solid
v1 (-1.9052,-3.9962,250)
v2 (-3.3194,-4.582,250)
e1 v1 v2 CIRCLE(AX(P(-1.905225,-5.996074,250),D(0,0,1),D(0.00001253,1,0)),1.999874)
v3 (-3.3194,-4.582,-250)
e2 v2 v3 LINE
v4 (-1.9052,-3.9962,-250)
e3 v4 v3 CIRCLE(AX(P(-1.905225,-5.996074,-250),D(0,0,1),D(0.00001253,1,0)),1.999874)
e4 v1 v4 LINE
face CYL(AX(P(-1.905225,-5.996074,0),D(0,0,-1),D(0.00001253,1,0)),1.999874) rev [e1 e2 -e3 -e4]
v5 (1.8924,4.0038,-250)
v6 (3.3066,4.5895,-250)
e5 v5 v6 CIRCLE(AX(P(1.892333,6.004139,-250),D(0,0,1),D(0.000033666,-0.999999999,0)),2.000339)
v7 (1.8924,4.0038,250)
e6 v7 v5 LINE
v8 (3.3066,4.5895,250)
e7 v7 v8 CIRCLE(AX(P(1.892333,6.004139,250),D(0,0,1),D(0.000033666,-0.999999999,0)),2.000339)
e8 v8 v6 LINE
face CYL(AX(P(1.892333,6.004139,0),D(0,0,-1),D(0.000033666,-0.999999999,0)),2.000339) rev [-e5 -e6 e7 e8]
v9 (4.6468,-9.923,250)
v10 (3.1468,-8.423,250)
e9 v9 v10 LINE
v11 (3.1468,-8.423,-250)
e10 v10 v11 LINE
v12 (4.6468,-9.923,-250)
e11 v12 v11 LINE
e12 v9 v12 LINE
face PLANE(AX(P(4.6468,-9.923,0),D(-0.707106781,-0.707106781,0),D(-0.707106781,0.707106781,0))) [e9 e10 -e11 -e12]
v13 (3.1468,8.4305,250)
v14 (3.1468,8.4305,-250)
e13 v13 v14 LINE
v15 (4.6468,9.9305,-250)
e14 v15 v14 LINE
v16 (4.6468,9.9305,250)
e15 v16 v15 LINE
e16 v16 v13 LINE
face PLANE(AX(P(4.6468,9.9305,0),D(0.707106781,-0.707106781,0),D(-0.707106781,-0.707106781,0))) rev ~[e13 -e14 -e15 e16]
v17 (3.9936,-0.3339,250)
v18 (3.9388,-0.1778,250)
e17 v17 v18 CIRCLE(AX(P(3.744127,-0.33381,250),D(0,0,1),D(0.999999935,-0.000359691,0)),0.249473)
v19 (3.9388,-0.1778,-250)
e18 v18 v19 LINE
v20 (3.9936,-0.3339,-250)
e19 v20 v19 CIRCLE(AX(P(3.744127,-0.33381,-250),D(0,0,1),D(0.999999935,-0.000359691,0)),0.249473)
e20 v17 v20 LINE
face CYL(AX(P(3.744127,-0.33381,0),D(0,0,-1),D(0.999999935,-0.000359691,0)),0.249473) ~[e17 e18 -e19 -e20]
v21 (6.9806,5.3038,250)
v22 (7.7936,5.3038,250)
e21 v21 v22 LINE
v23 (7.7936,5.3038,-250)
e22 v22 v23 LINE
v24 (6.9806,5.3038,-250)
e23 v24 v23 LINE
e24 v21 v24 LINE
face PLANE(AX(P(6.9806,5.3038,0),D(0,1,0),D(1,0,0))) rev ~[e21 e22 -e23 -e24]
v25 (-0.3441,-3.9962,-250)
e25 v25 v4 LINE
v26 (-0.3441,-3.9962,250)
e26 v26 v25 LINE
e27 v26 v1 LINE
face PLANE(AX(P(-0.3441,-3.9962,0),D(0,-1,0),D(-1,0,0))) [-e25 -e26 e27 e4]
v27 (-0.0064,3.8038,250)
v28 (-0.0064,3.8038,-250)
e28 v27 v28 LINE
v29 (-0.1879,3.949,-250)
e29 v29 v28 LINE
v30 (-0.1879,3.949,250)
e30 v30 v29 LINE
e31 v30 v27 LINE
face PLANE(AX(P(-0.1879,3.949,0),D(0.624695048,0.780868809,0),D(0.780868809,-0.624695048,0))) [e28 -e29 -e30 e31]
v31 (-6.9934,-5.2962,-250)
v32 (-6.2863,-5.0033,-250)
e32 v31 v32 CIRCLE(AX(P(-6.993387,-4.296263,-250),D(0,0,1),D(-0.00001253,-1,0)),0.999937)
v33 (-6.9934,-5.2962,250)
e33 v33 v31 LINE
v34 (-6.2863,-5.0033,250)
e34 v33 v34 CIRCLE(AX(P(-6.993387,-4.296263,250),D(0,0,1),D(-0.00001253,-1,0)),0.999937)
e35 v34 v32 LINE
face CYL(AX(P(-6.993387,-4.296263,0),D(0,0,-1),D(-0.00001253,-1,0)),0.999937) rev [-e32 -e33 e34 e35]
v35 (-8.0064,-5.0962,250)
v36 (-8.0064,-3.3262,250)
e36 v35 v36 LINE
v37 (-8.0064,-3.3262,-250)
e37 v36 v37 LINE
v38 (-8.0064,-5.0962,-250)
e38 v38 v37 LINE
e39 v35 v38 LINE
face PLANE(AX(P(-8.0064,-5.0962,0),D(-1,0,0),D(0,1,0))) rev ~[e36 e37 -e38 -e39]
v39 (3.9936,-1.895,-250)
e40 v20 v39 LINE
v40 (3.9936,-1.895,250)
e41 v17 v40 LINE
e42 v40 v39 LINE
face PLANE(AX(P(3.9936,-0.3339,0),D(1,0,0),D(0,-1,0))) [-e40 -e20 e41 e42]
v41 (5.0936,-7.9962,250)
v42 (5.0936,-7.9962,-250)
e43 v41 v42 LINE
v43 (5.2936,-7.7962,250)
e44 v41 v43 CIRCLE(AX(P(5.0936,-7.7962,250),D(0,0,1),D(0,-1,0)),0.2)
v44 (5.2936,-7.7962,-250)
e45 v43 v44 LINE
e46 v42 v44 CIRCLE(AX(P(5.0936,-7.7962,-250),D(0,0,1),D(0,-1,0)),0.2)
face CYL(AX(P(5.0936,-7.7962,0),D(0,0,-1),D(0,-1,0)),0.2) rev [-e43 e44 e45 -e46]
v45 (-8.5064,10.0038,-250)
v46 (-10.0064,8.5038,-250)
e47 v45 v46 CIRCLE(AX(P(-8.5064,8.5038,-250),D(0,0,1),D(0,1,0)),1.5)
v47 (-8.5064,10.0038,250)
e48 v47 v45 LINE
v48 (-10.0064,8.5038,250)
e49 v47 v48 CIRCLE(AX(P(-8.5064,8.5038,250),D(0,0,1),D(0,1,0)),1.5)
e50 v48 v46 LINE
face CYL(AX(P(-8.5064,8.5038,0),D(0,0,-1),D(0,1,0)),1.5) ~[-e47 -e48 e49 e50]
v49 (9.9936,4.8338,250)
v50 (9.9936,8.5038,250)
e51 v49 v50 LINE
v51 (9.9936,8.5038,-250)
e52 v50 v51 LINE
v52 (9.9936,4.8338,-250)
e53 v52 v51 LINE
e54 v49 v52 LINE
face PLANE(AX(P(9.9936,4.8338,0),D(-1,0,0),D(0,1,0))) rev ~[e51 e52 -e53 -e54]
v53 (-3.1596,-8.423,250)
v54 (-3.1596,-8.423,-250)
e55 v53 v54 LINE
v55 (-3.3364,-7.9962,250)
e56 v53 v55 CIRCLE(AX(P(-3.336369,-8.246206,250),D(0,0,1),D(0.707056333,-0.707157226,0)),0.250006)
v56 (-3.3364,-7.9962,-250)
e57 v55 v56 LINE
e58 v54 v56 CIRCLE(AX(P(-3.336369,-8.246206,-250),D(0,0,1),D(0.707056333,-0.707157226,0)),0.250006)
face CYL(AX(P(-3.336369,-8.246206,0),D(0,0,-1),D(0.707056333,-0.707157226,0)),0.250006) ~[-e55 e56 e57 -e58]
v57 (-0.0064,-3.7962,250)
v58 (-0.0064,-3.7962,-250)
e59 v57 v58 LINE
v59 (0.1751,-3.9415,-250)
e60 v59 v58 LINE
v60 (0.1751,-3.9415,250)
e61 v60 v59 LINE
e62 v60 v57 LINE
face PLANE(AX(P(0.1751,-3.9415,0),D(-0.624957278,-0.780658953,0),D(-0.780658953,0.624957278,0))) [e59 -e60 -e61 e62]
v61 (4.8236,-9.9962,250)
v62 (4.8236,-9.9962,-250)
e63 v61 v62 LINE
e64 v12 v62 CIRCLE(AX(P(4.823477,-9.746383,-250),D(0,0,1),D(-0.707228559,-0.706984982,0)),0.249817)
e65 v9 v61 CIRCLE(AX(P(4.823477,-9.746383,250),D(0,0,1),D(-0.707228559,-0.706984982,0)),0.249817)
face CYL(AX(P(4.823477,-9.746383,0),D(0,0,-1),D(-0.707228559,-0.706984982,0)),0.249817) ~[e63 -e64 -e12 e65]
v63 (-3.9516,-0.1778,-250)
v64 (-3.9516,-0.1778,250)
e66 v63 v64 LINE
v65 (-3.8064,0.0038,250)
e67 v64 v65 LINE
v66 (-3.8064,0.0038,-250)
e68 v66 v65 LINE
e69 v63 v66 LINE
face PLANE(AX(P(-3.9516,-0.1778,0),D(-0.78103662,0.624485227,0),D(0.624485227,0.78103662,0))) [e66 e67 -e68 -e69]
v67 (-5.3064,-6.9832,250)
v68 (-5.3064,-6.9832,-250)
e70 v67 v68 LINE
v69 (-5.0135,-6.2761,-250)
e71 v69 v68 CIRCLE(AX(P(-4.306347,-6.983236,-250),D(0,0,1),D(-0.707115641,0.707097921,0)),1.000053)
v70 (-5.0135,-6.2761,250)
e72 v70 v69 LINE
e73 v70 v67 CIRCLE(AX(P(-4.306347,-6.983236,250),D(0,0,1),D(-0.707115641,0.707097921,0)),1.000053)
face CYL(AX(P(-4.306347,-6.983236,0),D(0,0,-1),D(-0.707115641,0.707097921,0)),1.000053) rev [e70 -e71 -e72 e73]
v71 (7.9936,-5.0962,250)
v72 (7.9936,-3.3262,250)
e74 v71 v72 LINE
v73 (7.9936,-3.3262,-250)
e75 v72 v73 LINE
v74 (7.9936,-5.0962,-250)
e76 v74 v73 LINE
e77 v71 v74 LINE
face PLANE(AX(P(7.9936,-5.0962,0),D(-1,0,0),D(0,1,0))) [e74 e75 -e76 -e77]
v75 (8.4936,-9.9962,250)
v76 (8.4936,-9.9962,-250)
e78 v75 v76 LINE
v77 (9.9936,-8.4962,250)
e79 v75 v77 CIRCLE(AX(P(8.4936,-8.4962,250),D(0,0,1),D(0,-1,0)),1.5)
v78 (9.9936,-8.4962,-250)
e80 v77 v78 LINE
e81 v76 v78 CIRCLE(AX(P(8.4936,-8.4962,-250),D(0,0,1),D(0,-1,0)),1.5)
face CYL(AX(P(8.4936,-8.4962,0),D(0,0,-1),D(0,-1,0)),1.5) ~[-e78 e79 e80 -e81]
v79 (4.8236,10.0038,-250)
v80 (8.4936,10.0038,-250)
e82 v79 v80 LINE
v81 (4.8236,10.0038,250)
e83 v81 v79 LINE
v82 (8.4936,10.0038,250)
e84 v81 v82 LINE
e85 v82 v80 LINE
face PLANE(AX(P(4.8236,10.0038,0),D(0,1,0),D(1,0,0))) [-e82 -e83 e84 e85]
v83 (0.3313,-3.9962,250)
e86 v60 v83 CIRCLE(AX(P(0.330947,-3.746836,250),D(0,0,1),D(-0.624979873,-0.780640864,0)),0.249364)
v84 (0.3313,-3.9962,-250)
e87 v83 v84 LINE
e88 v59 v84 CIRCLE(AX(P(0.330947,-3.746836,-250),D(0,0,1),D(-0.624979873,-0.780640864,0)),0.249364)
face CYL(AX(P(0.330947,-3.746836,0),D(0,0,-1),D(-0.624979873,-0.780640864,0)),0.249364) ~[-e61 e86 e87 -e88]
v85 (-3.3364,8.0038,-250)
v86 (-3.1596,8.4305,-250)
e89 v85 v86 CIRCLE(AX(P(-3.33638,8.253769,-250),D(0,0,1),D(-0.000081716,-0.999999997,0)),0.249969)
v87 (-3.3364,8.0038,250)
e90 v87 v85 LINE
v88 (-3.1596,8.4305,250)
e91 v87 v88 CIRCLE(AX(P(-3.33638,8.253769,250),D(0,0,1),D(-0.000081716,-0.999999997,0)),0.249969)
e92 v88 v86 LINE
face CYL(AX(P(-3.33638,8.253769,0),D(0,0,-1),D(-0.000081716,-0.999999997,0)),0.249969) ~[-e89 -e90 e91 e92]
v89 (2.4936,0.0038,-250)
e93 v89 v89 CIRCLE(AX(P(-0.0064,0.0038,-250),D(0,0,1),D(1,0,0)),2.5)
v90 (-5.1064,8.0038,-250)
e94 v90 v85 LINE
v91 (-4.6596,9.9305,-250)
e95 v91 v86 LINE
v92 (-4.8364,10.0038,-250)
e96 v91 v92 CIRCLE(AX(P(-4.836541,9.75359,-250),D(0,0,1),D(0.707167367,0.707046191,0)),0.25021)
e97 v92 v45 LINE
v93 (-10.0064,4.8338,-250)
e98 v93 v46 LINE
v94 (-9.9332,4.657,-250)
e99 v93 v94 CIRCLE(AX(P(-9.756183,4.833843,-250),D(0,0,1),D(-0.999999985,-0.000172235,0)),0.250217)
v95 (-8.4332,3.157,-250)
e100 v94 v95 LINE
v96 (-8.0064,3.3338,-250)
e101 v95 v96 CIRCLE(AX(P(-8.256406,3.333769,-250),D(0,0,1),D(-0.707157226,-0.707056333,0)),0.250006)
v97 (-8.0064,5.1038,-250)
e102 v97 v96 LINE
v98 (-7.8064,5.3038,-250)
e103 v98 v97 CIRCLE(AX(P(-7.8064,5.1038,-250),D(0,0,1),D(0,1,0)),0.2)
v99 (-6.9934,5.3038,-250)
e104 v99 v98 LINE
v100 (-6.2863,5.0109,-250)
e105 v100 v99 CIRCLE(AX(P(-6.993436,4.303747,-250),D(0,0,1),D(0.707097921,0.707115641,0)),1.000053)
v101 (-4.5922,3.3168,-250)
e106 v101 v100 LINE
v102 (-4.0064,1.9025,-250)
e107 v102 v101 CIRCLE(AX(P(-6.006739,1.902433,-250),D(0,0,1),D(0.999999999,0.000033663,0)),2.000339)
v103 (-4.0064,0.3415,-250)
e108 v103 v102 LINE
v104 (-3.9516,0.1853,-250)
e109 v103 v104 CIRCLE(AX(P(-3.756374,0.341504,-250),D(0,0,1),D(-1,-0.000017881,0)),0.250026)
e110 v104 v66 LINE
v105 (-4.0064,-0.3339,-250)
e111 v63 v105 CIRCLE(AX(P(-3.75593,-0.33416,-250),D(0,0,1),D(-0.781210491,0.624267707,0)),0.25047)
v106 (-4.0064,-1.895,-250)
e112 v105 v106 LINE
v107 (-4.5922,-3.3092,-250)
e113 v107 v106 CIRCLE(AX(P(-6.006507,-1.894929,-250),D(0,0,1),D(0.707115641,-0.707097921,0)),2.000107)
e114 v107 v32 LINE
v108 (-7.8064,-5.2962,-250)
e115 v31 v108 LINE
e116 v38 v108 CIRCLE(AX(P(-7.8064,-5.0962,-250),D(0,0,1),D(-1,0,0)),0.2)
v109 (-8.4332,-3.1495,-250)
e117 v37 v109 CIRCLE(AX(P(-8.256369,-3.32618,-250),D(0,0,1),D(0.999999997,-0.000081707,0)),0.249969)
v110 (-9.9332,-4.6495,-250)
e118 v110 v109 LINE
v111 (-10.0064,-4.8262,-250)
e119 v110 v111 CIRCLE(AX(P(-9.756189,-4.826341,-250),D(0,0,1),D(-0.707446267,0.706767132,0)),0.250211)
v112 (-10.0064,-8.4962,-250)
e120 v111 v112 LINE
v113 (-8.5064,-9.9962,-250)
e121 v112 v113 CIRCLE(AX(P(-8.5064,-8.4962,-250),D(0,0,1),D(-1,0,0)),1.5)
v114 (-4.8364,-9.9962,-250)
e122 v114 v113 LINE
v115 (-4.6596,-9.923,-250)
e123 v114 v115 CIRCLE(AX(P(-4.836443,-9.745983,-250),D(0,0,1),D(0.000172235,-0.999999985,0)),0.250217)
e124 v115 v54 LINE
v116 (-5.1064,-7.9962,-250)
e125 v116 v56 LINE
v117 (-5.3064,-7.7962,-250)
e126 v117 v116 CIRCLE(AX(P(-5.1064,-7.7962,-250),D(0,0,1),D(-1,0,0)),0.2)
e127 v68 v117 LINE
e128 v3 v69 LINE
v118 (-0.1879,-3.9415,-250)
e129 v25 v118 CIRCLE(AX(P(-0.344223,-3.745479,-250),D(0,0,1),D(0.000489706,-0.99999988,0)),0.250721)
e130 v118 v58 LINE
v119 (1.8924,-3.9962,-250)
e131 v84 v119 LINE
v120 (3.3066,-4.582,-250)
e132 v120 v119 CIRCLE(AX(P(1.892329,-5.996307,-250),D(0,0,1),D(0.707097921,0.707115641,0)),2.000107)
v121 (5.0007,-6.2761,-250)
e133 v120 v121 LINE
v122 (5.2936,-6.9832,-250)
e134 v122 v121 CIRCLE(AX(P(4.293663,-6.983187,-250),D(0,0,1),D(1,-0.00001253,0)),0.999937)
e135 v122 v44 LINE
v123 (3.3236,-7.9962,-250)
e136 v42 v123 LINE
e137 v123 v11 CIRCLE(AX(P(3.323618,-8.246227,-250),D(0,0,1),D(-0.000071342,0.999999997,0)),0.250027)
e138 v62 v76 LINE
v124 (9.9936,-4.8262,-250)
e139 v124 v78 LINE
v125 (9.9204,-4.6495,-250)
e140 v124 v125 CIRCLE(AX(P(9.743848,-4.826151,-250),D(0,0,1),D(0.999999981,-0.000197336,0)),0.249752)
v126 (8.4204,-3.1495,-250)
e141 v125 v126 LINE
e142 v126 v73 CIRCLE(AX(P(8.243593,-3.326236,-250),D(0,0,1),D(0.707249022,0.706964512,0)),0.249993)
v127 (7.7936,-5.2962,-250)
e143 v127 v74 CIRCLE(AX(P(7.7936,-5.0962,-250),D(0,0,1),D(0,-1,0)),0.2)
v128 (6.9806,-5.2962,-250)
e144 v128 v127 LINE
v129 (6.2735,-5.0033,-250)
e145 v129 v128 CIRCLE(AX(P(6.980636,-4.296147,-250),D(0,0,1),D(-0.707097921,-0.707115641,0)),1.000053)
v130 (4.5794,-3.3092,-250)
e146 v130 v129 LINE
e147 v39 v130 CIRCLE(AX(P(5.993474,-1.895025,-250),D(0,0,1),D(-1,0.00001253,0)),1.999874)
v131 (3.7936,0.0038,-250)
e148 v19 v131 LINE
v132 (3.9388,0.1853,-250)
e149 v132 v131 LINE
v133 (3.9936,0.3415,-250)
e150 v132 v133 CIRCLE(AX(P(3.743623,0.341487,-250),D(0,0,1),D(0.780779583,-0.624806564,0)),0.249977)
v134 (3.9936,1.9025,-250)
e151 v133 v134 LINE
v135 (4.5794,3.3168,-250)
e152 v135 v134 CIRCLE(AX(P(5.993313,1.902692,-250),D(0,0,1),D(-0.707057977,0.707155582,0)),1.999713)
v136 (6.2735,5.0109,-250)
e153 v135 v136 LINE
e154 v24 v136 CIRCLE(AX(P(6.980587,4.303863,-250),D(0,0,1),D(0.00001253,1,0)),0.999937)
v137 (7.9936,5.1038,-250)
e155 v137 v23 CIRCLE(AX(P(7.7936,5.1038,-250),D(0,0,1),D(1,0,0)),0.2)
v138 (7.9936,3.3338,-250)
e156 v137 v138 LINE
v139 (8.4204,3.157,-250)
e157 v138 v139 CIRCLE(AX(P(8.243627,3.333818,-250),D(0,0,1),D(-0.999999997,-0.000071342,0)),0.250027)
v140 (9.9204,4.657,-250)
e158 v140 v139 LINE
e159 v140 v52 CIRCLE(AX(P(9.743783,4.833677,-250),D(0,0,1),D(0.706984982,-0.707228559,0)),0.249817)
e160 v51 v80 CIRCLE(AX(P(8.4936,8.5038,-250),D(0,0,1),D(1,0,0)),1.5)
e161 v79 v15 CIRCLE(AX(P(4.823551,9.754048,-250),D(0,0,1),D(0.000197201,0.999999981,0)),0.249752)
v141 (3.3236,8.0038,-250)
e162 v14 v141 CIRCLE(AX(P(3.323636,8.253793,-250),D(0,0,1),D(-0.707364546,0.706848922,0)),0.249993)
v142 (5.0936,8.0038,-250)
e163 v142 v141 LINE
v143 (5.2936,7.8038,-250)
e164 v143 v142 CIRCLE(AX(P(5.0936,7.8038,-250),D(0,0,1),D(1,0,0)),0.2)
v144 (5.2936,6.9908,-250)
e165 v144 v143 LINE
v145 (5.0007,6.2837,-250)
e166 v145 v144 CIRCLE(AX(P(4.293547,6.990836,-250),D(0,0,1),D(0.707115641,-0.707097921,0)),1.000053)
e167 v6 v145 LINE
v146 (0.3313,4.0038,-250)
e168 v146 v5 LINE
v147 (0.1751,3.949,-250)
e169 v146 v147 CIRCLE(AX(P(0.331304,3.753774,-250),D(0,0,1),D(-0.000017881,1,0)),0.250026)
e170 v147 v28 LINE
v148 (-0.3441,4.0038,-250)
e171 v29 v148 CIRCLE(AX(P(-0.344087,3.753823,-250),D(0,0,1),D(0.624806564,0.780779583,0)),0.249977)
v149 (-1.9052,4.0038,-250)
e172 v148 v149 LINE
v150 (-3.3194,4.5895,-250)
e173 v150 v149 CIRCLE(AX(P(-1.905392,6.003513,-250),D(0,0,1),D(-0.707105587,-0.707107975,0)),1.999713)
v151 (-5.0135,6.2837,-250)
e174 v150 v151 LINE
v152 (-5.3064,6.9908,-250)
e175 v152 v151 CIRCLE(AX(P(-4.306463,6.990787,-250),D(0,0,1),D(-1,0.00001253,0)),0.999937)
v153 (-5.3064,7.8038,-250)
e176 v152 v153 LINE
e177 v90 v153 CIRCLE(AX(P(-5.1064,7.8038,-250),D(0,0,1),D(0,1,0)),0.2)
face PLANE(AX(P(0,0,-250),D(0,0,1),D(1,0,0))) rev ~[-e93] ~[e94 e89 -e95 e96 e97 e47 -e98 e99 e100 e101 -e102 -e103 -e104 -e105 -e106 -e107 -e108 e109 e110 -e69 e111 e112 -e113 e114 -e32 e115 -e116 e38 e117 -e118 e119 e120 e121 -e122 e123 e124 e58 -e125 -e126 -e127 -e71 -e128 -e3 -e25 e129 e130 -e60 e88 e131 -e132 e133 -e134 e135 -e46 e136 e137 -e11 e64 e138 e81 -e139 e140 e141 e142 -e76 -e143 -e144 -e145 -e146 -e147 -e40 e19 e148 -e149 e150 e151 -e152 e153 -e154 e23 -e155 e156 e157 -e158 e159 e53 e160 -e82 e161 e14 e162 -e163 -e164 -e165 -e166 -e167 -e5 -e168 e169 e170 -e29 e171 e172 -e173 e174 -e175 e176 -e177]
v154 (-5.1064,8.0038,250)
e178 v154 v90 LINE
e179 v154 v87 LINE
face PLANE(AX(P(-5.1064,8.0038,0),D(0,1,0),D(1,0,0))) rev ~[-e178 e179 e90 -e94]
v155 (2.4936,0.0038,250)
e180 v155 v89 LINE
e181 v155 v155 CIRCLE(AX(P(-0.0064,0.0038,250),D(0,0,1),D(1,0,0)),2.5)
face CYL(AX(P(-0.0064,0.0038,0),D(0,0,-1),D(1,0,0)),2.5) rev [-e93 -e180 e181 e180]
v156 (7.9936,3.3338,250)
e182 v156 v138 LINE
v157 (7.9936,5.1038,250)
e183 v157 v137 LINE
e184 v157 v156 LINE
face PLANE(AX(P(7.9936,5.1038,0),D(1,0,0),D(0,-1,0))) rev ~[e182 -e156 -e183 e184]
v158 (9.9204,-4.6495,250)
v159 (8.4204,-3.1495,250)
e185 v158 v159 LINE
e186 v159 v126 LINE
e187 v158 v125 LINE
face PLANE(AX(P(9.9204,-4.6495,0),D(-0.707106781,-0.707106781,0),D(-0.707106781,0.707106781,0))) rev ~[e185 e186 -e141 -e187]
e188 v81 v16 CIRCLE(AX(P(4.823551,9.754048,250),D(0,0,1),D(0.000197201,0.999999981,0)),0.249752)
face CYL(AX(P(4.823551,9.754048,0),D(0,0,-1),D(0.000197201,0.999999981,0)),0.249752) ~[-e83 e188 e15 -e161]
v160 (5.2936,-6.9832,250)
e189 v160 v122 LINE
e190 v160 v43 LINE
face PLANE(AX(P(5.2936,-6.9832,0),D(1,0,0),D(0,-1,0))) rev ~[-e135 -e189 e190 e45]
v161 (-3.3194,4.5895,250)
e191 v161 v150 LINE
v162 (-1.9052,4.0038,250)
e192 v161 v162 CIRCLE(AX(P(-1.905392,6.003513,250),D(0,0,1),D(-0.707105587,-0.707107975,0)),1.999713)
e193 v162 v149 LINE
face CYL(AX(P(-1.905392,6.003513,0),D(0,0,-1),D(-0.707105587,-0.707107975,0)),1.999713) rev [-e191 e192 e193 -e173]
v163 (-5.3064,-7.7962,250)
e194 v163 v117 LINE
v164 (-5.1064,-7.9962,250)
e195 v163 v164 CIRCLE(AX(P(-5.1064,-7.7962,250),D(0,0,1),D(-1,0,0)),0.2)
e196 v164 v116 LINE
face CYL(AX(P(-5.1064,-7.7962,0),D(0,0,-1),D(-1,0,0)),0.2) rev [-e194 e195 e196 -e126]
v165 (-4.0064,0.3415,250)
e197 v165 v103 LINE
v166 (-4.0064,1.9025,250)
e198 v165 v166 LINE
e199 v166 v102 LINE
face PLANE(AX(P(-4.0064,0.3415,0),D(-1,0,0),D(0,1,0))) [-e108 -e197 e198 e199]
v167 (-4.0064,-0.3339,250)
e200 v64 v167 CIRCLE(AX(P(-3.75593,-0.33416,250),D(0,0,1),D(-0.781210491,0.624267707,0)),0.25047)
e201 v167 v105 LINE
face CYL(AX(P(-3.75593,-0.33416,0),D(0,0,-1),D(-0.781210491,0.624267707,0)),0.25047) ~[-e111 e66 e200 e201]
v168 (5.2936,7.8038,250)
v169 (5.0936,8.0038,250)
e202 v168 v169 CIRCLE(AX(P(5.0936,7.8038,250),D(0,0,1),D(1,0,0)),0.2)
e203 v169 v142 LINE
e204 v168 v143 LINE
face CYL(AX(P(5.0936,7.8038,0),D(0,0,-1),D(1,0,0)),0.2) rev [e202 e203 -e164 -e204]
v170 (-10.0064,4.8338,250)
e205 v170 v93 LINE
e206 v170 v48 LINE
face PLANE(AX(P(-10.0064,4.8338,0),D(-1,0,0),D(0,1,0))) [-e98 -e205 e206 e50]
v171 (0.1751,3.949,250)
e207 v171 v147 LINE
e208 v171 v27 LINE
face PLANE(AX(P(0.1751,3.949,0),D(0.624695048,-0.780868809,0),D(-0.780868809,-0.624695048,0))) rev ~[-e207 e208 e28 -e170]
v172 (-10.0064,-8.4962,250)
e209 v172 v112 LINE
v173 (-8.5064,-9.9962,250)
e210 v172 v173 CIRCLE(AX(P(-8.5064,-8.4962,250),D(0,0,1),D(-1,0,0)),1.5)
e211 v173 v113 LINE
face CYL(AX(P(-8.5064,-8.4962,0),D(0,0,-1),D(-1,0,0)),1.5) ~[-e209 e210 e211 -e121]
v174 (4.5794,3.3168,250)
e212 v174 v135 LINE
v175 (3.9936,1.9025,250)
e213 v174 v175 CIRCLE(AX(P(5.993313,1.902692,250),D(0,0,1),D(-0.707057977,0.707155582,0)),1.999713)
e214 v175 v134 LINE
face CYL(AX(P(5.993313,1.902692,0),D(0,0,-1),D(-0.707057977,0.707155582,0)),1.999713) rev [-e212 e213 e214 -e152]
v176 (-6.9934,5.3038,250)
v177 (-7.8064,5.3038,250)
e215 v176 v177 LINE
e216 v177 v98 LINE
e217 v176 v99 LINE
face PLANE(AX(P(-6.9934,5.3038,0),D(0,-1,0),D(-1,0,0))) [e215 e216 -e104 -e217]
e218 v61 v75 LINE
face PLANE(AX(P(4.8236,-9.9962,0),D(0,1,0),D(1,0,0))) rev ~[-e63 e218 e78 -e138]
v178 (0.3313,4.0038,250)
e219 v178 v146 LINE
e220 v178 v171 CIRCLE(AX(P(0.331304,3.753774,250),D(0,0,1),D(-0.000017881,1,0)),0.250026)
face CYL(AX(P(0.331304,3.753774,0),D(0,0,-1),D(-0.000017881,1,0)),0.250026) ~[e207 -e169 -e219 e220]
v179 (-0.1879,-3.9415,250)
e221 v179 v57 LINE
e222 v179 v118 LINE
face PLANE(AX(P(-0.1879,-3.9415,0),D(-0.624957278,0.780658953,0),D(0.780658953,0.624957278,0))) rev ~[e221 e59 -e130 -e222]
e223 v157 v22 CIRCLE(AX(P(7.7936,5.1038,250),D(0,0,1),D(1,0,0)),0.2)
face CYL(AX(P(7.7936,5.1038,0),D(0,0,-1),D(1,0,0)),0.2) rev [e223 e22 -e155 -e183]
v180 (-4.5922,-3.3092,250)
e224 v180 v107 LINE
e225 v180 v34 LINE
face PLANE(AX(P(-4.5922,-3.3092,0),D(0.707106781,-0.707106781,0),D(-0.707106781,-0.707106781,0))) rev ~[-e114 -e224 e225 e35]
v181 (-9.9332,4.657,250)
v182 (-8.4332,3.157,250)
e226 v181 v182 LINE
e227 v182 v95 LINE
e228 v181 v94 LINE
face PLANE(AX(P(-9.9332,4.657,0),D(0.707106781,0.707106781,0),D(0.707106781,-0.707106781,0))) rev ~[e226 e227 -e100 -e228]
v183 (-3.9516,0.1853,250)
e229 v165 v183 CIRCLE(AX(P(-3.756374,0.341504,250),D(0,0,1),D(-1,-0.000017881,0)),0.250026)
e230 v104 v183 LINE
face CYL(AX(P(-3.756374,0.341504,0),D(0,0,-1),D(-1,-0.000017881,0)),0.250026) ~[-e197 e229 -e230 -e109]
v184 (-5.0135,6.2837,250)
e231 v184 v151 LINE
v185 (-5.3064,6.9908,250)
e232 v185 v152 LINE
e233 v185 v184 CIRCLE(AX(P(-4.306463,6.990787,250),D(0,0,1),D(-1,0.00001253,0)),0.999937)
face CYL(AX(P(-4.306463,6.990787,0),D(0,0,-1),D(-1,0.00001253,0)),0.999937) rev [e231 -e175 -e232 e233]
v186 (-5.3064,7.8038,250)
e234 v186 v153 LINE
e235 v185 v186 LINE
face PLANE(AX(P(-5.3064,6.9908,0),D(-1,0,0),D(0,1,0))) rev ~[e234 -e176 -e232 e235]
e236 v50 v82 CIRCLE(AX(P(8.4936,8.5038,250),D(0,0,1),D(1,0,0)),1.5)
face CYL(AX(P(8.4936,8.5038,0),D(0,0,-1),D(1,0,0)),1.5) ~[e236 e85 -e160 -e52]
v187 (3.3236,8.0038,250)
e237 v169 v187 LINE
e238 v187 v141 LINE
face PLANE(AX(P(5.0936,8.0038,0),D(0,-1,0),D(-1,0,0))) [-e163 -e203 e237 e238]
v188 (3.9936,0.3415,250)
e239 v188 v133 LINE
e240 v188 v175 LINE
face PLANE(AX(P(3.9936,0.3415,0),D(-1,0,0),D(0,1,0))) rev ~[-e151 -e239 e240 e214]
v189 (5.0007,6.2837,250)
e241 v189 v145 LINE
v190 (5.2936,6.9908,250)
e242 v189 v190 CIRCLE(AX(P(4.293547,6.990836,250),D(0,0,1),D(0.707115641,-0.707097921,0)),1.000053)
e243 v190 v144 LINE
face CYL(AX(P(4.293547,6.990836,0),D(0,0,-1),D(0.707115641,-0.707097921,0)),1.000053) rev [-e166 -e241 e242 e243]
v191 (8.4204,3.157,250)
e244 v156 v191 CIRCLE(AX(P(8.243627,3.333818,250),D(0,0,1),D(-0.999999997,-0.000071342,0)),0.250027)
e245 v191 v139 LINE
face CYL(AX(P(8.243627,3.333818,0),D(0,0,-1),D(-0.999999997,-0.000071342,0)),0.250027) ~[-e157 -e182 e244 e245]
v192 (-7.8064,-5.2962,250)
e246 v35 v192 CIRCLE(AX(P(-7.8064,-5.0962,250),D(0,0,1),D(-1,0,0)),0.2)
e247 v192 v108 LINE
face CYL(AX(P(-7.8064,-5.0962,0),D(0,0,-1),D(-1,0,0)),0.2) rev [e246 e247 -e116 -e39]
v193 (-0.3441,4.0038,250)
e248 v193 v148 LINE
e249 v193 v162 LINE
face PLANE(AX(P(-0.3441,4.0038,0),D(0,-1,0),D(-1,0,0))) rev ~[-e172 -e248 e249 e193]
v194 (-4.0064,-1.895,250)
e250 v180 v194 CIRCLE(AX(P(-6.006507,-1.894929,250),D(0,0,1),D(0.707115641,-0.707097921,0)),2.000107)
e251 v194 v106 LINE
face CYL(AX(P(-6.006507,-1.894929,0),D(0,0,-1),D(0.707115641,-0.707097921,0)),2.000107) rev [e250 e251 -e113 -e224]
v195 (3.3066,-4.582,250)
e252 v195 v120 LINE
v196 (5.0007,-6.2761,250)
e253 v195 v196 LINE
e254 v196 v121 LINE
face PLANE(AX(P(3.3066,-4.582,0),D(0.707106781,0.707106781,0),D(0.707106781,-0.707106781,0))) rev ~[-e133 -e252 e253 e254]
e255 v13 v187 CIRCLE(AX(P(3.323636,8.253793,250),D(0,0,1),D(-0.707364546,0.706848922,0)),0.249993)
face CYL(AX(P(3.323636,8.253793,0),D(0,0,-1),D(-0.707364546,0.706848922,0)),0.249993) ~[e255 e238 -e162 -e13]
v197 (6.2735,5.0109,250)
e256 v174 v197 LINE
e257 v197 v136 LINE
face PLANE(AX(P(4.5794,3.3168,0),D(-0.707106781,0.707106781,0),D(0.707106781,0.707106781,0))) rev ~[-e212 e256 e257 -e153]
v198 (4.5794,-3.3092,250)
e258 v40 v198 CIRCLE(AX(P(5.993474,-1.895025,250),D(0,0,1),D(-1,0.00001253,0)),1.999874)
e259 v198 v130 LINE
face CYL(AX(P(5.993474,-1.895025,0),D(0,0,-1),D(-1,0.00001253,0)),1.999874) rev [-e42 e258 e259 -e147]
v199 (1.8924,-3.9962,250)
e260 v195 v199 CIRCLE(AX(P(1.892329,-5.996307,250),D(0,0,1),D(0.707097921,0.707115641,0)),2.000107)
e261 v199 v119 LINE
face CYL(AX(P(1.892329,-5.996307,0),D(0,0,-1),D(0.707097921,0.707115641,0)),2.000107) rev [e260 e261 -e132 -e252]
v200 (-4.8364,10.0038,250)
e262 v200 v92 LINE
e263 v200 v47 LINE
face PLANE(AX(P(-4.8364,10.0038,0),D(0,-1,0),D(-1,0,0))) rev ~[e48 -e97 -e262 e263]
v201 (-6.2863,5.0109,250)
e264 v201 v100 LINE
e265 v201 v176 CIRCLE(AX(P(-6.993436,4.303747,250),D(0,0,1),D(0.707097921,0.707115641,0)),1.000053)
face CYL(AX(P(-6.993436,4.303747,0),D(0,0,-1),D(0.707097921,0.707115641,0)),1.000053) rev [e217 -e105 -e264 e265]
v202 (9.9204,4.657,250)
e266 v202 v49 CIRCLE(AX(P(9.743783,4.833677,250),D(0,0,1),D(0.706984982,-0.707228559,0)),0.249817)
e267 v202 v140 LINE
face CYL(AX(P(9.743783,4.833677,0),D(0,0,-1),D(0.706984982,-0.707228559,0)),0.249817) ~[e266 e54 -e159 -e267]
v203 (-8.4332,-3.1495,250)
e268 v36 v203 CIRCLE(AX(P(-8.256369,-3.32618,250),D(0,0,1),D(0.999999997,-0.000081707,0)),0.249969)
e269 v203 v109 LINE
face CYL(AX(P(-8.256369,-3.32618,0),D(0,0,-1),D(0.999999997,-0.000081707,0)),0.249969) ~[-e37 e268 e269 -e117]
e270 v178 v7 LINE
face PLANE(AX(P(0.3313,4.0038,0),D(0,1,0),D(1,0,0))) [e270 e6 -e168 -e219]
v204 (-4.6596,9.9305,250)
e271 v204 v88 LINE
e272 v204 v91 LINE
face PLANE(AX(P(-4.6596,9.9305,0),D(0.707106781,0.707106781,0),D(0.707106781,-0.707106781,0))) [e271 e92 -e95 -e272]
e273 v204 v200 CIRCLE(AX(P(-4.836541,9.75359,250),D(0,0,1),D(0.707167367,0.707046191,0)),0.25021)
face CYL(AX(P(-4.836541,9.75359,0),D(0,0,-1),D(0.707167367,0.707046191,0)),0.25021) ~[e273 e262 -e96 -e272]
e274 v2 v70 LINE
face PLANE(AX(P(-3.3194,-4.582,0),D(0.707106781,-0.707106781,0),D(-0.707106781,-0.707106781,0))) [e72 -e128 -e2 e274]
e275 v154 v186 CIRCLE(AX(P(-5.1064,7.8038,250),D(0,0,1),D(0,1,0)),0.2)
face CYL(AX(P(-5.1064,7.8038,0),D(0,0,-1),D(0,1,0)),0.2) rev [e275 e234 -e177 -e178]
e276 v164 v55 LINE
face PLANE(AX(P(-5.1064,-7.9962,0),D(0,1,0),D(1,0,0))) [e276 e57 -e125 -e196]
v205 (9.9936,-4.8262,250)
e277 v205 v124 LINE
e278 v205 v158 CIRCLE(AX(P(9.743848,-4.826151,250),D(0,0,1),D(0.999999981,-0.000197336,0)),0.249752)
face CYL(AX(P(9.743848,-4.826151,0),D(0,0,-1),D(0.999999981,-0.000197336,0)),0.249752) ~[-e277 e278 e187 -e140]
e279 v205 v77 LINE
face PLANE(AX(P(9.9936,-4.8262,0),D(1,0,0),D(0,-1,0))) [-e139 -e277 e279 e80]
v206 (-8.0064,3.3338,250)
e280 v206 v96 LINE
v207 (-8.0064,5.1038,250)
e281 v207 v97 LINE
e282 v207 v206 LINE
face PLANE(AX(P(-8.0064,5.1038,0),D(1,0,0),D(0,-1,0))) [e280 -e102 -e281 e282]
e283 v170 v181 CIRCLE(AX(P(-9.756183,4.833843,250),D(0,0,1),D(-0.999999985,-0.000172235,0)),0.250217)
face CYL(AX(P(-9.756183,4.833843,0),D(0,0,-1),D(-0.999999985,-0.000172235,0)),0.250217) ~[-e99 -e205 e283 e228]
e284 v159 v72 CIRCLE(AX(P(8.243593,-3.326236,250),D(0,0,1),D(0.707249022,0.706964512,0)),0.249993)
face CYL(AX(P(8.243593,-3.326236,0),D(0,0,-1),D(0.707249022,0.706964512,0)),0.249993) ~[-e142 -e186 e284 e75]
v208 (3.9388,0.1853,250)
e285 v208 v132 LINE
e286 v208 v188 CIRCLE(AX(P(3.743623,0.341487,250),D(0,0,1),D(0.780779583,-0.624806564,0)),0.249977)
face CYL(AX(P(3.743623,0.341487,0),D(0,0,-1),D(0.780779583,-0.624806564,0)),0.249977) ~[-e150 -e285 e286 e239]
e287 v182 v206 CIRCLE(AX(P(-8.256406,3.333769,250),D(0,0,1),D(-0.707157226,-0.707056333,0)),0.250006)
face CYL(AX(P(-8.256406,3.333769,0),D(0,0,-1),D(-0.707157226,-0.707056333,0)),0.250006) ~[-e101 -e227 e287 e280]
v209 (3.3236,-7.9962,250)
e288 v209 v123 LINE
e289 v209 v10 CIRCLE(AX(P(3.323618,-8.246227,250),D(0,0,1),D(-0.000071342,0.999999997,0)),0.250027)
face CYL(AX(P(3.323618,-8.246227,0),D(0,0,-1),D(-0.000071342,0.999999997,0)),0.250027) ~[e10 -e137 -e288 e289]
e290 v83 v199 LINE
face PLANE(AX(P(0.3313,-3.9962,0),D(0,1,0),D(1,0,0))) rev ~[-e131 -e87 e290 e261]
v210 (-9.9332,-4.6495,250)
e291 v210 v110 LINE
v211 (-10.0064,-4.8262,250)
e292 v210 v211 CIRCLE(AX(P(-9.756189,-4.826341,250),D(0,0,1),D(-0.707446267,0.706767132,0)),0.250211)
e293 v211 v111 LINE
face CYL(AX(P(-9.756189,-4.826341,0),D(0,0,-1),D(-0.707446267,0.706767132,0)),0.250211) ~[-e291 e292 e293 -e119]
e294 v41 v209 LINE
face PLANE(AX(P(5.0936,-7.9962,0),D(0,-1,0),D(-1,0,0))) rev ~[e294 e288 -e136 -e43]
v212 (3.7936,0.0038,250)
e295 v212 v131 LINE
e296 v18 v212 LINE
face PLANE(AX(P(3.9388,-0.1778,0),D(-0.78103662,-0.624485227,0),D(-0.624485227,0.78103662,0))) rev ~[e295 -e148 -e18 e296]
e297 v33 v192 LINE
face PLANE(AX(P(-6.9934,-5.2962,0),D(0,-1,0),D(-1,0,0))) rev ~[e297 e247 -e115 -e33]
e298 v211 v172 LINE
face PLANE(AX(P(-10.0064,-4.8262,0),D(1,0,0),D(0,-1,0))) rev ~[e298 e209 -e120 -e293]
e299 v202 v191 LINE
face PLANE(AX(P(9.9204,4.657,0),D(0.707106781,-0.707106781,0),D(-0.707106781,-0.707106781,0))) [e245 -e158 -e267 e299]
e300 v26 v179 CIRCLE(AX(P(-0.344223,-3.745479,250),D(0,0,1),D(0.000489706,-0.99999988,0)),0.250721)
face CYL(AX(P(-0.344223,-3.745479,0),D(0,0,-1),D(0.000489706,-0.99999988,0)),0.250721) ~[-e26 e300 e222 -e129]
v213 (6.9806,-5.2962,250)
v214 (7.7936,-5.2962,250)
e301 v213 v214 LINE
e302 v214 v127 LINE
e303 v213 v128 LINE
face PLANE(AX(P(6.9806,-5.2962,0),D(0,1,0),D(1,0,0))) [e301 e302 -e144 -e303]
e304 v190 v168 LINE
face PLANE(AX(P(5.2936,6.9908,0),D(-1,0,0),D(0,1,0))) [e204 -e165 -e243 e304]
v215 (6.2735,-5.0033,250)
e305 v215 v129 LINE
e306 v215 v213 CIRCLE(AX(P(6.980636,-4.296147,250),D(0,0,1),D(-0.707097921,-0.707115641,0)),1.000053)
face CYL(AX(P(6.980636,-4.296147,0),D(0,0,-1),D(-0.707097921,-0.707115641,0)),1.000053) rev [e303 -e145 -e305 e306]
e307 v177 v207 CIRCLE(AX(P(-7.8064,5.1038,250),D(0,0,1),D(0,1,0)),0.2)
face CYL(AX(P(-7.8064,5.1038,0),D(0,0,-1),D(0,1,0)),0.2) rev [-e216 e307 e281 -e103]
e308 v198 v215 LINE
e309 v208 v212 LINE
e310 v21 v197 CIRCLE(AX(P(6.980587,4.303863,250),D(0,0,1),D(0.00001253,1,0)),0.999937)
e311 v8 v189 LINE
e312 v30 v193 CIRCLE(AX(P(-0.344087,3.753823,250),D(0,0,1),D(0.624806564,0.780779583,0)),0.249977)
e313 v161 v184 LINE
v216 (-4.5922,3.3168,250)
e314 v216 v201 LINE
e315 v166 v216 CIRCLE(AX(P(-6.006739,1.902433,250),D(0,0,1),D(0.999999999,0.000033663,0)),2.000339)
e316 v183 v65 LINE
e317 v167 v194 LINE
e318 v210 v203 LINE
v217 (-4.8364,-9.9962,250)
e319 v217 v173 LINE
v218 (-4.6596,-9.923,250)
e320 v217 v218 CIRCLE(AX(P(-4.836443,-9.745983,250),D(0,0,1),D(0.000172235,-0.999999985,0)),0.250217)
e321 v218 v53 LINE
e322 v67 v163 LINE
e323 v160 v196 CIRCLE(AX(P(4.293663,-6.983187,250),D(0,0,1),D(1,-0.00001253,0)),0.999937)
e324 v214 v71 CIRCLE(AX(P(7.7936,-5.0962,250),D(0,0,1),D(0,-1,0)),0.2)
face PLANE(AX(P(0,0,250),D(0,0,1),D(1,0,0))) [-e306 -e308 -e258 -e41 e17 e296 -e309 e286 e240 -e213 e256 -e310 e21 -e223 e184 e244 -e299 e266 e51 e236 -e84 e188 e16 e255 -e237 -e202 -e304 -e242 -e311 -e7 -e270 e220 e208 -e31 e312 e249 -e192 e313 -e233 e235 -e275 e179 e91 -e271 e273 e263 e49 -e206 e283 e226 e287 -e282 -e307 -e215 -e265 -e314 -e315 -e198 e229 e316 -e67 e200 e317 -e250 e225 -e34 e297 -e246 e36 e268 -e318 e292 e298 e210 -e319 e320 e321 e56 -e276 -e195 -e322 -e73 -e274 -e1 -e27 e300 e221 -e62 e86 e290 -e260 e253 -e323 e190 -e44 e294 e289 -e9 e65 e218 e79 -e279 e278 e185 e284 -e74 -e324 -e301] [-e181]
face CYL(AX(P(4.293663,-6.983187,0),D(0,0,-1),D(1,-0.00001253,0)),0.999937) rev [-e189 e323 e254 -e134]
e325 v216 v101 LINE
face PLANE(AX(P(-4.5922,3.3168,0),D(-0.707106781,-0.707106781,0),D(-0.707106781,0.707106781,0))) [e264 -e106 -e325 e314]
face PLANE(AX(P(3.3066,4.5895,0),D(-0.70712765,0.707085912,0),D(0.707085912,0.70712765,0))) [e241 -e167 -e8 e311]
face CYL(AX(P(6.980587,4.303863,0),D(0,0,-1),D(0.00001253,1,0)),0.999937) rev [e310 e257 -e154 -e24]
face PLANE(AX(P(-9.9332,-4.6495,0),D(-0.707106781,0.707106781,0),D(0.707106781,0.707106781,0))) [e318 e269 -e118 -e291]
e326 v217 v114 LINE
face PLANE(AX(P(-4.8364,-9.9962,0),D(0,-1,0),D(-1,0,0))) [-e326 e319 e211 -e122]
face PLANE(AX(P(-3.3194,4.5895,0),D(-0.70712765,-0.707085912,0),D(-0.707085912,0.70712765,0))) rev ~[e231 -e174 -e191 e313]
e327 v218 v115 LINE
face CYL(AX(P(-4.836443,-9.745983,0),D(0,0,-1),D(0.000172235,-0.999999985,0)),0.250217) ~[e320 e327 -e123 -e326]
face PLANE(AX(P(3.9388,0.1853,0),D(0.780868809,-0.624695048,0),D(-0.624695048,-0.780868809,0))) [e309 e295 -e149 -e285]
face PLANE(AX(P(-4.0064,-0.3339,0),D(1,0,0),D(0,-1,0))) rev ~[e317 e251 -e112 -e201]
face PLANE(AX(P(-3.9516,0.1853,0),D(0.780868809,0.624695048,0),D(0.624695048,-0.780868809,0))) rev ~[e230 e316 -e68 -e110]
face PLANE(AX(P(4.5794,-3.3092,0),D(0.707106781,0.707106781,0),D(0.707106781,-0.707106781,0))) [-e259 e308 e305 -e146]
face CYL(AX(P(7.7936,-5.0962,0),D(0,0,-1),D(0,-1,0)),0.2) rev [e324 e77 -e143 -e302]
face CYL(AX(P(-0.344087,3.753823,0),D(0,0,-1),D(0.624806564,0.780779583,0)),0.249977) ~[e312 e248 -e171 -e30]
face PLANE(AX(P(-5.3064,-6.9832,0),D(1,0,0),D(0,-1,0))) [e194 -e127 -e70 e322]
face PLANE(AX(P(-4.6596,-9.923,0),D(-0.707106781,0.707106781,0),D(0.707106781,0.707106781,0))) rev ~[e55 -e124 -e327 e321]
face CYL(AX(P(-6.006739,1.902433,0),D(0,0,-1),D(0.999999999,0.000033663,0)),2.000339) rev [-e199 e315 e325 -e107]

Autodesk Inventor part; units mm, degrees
ref_plane "YZ Plane" through (0, 0, 0) normal (1, 0, 0) x (0, 1, 0)
ref_plane "XZ Plane" through (0, 0, 0) normal (0, 1, 0) x (-1, 0, 0)
ref_plane "XY Plane" through (0, 0, 0) normal (0, 0, 1) x (1, 0, 0)
sketch "Эскиз1" plane through (0, 0, 0) normal (0, 0, 1) x (1, 0, 0)
  line L0 (-3.9516, 0.1853) -> (-3.8064, 0.0038)
  line L1 (-3.9516, -0.1778) -> (-3.8064, 0.0038)
  arc A0 (-3.9516, -0.1778) -> (-4.0064, -0.3339) centre (-3.7564, -0.3339) ccw
  line L2 (-4.0064, -0.3339) -> (-4.0064, -1.895)
  arc A1 (-4.5922, -3.3092) -> (-4.0064, -1.895) centre (-6.0064, -1.895) ccw
  line L3 (-4.5922, -3.3092) -> (-6.2863, -5.0033)
  arc A2 (-6.9934, -5.2962) -> (-6.2863, -5.0033) centre (-6.9934, -4.2962) ccw
  line L4 (-6.9934, -5.2962) -> (-7.8064, -5.2962)
  arc A3 (-8.0064, -5.0962) -> (-7.8064, -5.2962) centre (-7.8064, -5.0962) ccw
  line L5 (-8.0064, -5.0962) -> (-8.0064, -3.3262)
  arc A4 (-8.0064, -3.3262) -> (-8.4332, -3.1495) centre (-8.2564, -3.3262) ccw
  line L6 (-9.9332, -4.6495) -> (-8.4332, -3.1495)
  arc A5 (-9.9332, -4.6495) -> (-10.0064, -4.8262) centre (-9.7564, -4.8262) ccw
  line L7 (-10.0064, -4.8262) -> (-10.0064, -8.4962)
  arc A6 (-10.0064, -8.4962) -> (-8.5064, -9.9962) centre (-8.5064, -8.4962) ccw
  line L8 (-4.8364, -9.9962) -> (-8.5064, -9.9962)
  arc A7 (-4.8364, -9.9962) -> (-4.6596, -9.923) centre (-4.8364, -9.7462) ccw
  line L9 (-4.6596, -9.923) -> (-3.1596, -8.423)
  arc A8 (-3.1596, -8.423) -> (-3.3364, -7.9962) centre (-3.3364, -8.2462) ccw
  line L10 (-5.1064, -7.9962) -> (-3.3364, -7.9962)
  arc A9 (-5.3064, -7.7962) -> (-5.1064, -7.9962) centre (-5.1064, -7.7962) ccw
  line L11 (-5.3064, -6.9832) -> (-5.3064, -7.7962)
  arc A10 (-5.0135, -6.2761) -> (-5.3064, -6.9832) centre (-4.3064, -6.9832) ccw
  line L12 (-3.3194, -4.582) -> (-5.0135, -6.2761)
  arc A11 (-1.9052, -3.9962) -> (-3.3194, -4.582) centre (-1.9052, -5.9962) ccw
  line L13 (-0.3441, -3.9962) -> (-1.9052, -3.9962)
  arc A12 (-0.3441, -3.9962) -> (-0.1879, -3.9415) centre (-0.3441, -3.7462) ccw
  line L14 (-0.1879, -3.9415) -> (-0.0064, -3.7962)
  line L15 (0.1751, -3.9415) -> (-0.0064, -3.7962)
  arc A13 (0.1751, -3.9415) -> (0.3313, -3.9962) centre (0.3313, -3.7462) ccw
  line L16 (0.3313, -3.9962) -> (1.8924, -3.9962)
  arc A14 (3.3066, -4.582) -> (1.8924, -3.9962) centre (1.8924, -5.9962) ccw
  line L17 (3.3066, -4.582) -> (5.0007, -6.2761)
  arc A15 (5.2936, -6.9832) -> (5.0007, -6.2761) centre (4.2936, -6.9832) ccw
  line L18 (5.2936, -6.9832) -> (5.2936, -7.7962)
  arc A16 (5.0936, -7.9962) -> (5.2936, -7.7962) centre (5.0936, -7.7962) ccw
  line L19 (5.0936, -7.9962) -> (3.3236, -7.9962)
  arc A17 (3.3236, -7.9962) -> (3.1468, -8.423) centre (3.3236, -8.2462) ccw
  line L20 (4.6468, -9.923) -> (3.1468, -8.423)
  arc A18 (4.6468, -9.923) -> (4.8236, -9.9962) centre (4.8236, -9.7462) ccw
  line L21 (4.8236, -9.9962) -> (8.4936, -9.9962)
  arc A19 (8.4936, -9.9962) -> (9.9936, -8.4962) centre (8.4936, -8.4962) ccw
  line L22 (9.9936, -4.8262) -> (9.9936, -8.4962)
  arc A20 (9.9936, -4.8262) -> (9.9204, -4.6495) centre (9.7436, -4.8262) ccw
  line L23 (9.9204, -4.6495) -> (8.4204, -3.1495)
  arc A21 (8.4204, -3.1495) -> (7.9936, -3.3262) centre (8.2436, -3.3262) ccw
  line L24 (7.9936, -5.0962) -> (7.9936, -3.3262)
  arc A22 (7.7936, -5.2962) -> (7.9936, -5.0962) centre (7.7936, -5.0962) ccw
  line L25 (6.9806, -5.2962) -> (7.7936, -5.2962)
  arc A23 (6.2735, -5.0033) -> (6.9806, -5.2962) centre (6.9806, -4.2962) ccw
  line L26 (4.5794, -3.3092) -> (6.2735, -5.0033)
  arc A24 (3.9936, -1.895) -> (4.5794, -3.3092) centre (5.9936, -1.895) ccw
  line L27 (3.9936, -0.3339) -> (3.9936, -1.895)
  arc A25 (3.9936, -0.3339) -> (3.9388, -0.1778) centre (3.7436, -0.3339) ccw
  line L28 (3.9388, -0.1778) -> (3.7936, 0.0038)
  line L29 (3.9388, 0.1853) -> (3.7936, 0.0038)
  arc A26 (3.9388, 0.1853) -> (3.9936, 0.3415) centre (3.7436, 0.3415) ccw
  line L30 (3.9936, 0.3415) -> (3.9936, 1.9025)
  arc A27 (4.5794, 3.3168) -> (3.9936, 1.9025) centre (5.9936, 1.9025) ccw
  line L31 (4.5794, 3.3168) -> (6.2735, 5.0109)
  arc A28 (6.9806, 5.3038) -> (6.2735, 5.0109) centre (6.9806, 4.3038) ccw
  line L32 (6.9806, 5.3038) -> (7.7936, 5.3038)
  arc A29 (7.9936, 5.1038) -> (7.7936, 5.3038) centre (7.7936, 5.1038) ccw
  line L33 (7.9936, 5.1038) -> (7.9936, 3.3338)
  arc A30 (7.9936, 3.3338) -> (8.4204, 3.157) centre (8.2436, 3.3338) ccw
  line L34 (9.9204, 4.657) -> (8.4204, 3.157)
  arc A31 (9.9204, 4.657) -> (9.9936, 4.8338) centre (9.7436, 4.8338) ccw
  line L35 (9.9936, 4.8338) -> (9.9936, 8.5038)
  arc A32 (9.9936, 8.5038) -> (8.4936, 10.0038) centre (8.4936, 8.5038) ccw
  line L36 (4.8236, 10.0038) -> (8.4936, 10.0038)
  arc A33 (4.8236, 10.0038) -> (4.6468, 9.9305) centre (4.8236, 9.7538) ccw
  line L37 (4.6468, 9.9305) -> (3.1468, 8.4305)
  arc A34 (3.1468, 8.4305) -> (3.3236, 8.0038) centre (3.3236, 8.2538) ccw
  line L38 (5.0936, 8.0038) -> (3.3236, 8.0038)
  arc A35 (5.2936, 7.8038) -> (5.0936, 8.0038) centre (5.0936, 7.8038) ccw
  line L39 (5.2936, 6.9908) -> (5.2936, 7.8038)
  arc A36 (5.0007, 6.2837) -> (5.2936, 6.9908) centre (4.2936, 6.9908) ccw
  line L40 (3.3066, 4.5895) -> (5.0007, 6.2837)
  arc A37 (1.8924, 4.0038) -> (3.3066, 4.5895) centre (1.8924, 6.0038) ccw
  line L41 (0.3313, 4.0038) -> (1.8924, 4.0038)
  arc A38 (0.3313, 4.0038) -> (0.1751, 3.949) centre (0.3313, 3.7538) ccw
  line L42 (0.1751, 3.949) -> (-0.0064, 3.8038)
  line L43 (-0.1879, 3.949) -> (-0.0064, 3.8038)
  arc A39 (-0.1879, 3.949) -> (-0.3441, 4.0038) centre (-0.3441, 3.7538) ccw
  line L44 (-0.3441, 4.0038) -> (-1.9052, 4.0038)
  arc A40 (-3.3194, 4.5895) -> (-1.9052, 4.0038) centre (-1.9052, 6.0038) ccw
  line L45 (-3.3194, 4.5895) -> (-5.0135, 6.2837)
  arc A41 (-5.3064, 6.9908) -> (-5.0135, 6.2837) centre (-4.3064, 6.9908) ccw
  line L46 (-5.3064, 6.9908) -> (-5.3064, 7.8038)
  arc A42 (-5.1064, 8.0038) -> (-5.3064, 7.8038) centre (-5.1064, 7.8038) ccw
  line L47 (-5.1064, 8.0038) -> (-3.3364, 8.0038)
  arc A43 (-3.3364, 8.0038) -> (-3.1596, 8.4305) centre (-3.3364, 8.2538) ccw
  line L48 (-4.6596, 9.9305) -> (-3.1596, 8.4305)
  arc A44 (-4.6596, 9.9305) -> (-4.8364, 10.0038) centre (-4.8364, 9.7538) ccw
  line L49 (-4.8364, 10.0038) -> (-8.5064, 10.0038)
  arc A45 (-8.5064, 10.0038) -> (-10.0064, 8.5038) centre (-8.5064, 8.5038) ccw
  line L50 (-10.0064, 4.8338) -> (-10.0064, 8.5038)
  arc A46 (-10.0064, 4.8338) -> (-9.9332, 4.657) centre (-9.7564, 4.8338) ccw
  line L51 (-9.9332, 4.657) -> (-8.4332, 3.157)
  arc A47 (-8.4332, 3.157) -> (-8.0064, 3.3338) centre (-8.2564, 3.3338) ccw
  line L52 (-8.0064, 5.1038) -> (-8.0064, 3.3338)
  arc A48 (-7.8064, 5.3038) -> (-8.0064, 5.1038) centre (-7.8064, 5.1038) ccw
  line L53 (-6.9934, 5.3038) -> (-7.8064, 5.3038)
  arc A49 (-6.2863, 5.0109) -> (-6.9934, 5.3038) centre (-6.9934, 4.3038) ccw
  line L54 (-4.5922, 3.3168) -> (-6.2863, 5.0109)
  arc A50 (-4.0064, 1.9025) -> (-4.5922, 3.3168) centre (-6.0064, 1.9025) ccw
  line L55 (-4.0064, 0.3415) -> (-4.0064, 1.9025)
  arc A51 (-4.0064, 0.3415) -> (-3.9516, 0.1853) centre (-3.7564, 0.3415) ccw
  circle A52 centre (-0.0064, 0.0038) radius 2.5
  point P0 (0, 0)
  point P1 (-0.0064, 0.0038)
  dimension "d0" = 0.25
  dimension "d1" = 1.5
  dimension "d2" = 0.2
  dimension "d3" = 1
  dimension "d4" = 2
  dimension "d5" = 5
  dimension "d6" = 135
  dimension "d7" = 38.66
  dimension "d8" = 38.66
  dimension "d9" = 45
  dimension "d10" = 2
  dimension "d11" = 4.7
  dimension "d12" = 14
  dimension "d13" = 15.3
  dimension "d14" = 20
  dimension "d15" = 2.829
  dimension "d16" = 4.629
  dimension "d17" = 7.4579
  dimension "d18" = 2.829
  dimension "d19" = 4.629
  dimension "d20" = 7.4579
  dimension "d21" = 10.6
  dimension "d22" = 4.7
  dimension "d23" = 15.3
  dimension "d24" = 2.7
  dimension "d25" = 13.3
  dimension "d26" = 5.9346
  dimension "d27" = 5.9346
  dimension "d28" = 5.9346
  dimension "d29" = 5.9346
  dimension "d30" = 9.9936
  dimension "d31" = 3.7218
  dimension "d32" = 3.7271
  dimension "d33" = 5.3038
  dimension "d34" = 2.96
  dimension "d35" = 2.9647
  dimension "d36" = 2.9742
  dimension "d37" = 2.9684
  dimension "d38" = 8.0064
  dimension "d39" = 10
  dimension "d40" = 3.729
  dimension "d41" = 10
  dimension "d42" = 3.729
extrude "Выдавливание1" add sketch "Эскиз1" along normal mid plane 500
properties part number "AP20x20"
